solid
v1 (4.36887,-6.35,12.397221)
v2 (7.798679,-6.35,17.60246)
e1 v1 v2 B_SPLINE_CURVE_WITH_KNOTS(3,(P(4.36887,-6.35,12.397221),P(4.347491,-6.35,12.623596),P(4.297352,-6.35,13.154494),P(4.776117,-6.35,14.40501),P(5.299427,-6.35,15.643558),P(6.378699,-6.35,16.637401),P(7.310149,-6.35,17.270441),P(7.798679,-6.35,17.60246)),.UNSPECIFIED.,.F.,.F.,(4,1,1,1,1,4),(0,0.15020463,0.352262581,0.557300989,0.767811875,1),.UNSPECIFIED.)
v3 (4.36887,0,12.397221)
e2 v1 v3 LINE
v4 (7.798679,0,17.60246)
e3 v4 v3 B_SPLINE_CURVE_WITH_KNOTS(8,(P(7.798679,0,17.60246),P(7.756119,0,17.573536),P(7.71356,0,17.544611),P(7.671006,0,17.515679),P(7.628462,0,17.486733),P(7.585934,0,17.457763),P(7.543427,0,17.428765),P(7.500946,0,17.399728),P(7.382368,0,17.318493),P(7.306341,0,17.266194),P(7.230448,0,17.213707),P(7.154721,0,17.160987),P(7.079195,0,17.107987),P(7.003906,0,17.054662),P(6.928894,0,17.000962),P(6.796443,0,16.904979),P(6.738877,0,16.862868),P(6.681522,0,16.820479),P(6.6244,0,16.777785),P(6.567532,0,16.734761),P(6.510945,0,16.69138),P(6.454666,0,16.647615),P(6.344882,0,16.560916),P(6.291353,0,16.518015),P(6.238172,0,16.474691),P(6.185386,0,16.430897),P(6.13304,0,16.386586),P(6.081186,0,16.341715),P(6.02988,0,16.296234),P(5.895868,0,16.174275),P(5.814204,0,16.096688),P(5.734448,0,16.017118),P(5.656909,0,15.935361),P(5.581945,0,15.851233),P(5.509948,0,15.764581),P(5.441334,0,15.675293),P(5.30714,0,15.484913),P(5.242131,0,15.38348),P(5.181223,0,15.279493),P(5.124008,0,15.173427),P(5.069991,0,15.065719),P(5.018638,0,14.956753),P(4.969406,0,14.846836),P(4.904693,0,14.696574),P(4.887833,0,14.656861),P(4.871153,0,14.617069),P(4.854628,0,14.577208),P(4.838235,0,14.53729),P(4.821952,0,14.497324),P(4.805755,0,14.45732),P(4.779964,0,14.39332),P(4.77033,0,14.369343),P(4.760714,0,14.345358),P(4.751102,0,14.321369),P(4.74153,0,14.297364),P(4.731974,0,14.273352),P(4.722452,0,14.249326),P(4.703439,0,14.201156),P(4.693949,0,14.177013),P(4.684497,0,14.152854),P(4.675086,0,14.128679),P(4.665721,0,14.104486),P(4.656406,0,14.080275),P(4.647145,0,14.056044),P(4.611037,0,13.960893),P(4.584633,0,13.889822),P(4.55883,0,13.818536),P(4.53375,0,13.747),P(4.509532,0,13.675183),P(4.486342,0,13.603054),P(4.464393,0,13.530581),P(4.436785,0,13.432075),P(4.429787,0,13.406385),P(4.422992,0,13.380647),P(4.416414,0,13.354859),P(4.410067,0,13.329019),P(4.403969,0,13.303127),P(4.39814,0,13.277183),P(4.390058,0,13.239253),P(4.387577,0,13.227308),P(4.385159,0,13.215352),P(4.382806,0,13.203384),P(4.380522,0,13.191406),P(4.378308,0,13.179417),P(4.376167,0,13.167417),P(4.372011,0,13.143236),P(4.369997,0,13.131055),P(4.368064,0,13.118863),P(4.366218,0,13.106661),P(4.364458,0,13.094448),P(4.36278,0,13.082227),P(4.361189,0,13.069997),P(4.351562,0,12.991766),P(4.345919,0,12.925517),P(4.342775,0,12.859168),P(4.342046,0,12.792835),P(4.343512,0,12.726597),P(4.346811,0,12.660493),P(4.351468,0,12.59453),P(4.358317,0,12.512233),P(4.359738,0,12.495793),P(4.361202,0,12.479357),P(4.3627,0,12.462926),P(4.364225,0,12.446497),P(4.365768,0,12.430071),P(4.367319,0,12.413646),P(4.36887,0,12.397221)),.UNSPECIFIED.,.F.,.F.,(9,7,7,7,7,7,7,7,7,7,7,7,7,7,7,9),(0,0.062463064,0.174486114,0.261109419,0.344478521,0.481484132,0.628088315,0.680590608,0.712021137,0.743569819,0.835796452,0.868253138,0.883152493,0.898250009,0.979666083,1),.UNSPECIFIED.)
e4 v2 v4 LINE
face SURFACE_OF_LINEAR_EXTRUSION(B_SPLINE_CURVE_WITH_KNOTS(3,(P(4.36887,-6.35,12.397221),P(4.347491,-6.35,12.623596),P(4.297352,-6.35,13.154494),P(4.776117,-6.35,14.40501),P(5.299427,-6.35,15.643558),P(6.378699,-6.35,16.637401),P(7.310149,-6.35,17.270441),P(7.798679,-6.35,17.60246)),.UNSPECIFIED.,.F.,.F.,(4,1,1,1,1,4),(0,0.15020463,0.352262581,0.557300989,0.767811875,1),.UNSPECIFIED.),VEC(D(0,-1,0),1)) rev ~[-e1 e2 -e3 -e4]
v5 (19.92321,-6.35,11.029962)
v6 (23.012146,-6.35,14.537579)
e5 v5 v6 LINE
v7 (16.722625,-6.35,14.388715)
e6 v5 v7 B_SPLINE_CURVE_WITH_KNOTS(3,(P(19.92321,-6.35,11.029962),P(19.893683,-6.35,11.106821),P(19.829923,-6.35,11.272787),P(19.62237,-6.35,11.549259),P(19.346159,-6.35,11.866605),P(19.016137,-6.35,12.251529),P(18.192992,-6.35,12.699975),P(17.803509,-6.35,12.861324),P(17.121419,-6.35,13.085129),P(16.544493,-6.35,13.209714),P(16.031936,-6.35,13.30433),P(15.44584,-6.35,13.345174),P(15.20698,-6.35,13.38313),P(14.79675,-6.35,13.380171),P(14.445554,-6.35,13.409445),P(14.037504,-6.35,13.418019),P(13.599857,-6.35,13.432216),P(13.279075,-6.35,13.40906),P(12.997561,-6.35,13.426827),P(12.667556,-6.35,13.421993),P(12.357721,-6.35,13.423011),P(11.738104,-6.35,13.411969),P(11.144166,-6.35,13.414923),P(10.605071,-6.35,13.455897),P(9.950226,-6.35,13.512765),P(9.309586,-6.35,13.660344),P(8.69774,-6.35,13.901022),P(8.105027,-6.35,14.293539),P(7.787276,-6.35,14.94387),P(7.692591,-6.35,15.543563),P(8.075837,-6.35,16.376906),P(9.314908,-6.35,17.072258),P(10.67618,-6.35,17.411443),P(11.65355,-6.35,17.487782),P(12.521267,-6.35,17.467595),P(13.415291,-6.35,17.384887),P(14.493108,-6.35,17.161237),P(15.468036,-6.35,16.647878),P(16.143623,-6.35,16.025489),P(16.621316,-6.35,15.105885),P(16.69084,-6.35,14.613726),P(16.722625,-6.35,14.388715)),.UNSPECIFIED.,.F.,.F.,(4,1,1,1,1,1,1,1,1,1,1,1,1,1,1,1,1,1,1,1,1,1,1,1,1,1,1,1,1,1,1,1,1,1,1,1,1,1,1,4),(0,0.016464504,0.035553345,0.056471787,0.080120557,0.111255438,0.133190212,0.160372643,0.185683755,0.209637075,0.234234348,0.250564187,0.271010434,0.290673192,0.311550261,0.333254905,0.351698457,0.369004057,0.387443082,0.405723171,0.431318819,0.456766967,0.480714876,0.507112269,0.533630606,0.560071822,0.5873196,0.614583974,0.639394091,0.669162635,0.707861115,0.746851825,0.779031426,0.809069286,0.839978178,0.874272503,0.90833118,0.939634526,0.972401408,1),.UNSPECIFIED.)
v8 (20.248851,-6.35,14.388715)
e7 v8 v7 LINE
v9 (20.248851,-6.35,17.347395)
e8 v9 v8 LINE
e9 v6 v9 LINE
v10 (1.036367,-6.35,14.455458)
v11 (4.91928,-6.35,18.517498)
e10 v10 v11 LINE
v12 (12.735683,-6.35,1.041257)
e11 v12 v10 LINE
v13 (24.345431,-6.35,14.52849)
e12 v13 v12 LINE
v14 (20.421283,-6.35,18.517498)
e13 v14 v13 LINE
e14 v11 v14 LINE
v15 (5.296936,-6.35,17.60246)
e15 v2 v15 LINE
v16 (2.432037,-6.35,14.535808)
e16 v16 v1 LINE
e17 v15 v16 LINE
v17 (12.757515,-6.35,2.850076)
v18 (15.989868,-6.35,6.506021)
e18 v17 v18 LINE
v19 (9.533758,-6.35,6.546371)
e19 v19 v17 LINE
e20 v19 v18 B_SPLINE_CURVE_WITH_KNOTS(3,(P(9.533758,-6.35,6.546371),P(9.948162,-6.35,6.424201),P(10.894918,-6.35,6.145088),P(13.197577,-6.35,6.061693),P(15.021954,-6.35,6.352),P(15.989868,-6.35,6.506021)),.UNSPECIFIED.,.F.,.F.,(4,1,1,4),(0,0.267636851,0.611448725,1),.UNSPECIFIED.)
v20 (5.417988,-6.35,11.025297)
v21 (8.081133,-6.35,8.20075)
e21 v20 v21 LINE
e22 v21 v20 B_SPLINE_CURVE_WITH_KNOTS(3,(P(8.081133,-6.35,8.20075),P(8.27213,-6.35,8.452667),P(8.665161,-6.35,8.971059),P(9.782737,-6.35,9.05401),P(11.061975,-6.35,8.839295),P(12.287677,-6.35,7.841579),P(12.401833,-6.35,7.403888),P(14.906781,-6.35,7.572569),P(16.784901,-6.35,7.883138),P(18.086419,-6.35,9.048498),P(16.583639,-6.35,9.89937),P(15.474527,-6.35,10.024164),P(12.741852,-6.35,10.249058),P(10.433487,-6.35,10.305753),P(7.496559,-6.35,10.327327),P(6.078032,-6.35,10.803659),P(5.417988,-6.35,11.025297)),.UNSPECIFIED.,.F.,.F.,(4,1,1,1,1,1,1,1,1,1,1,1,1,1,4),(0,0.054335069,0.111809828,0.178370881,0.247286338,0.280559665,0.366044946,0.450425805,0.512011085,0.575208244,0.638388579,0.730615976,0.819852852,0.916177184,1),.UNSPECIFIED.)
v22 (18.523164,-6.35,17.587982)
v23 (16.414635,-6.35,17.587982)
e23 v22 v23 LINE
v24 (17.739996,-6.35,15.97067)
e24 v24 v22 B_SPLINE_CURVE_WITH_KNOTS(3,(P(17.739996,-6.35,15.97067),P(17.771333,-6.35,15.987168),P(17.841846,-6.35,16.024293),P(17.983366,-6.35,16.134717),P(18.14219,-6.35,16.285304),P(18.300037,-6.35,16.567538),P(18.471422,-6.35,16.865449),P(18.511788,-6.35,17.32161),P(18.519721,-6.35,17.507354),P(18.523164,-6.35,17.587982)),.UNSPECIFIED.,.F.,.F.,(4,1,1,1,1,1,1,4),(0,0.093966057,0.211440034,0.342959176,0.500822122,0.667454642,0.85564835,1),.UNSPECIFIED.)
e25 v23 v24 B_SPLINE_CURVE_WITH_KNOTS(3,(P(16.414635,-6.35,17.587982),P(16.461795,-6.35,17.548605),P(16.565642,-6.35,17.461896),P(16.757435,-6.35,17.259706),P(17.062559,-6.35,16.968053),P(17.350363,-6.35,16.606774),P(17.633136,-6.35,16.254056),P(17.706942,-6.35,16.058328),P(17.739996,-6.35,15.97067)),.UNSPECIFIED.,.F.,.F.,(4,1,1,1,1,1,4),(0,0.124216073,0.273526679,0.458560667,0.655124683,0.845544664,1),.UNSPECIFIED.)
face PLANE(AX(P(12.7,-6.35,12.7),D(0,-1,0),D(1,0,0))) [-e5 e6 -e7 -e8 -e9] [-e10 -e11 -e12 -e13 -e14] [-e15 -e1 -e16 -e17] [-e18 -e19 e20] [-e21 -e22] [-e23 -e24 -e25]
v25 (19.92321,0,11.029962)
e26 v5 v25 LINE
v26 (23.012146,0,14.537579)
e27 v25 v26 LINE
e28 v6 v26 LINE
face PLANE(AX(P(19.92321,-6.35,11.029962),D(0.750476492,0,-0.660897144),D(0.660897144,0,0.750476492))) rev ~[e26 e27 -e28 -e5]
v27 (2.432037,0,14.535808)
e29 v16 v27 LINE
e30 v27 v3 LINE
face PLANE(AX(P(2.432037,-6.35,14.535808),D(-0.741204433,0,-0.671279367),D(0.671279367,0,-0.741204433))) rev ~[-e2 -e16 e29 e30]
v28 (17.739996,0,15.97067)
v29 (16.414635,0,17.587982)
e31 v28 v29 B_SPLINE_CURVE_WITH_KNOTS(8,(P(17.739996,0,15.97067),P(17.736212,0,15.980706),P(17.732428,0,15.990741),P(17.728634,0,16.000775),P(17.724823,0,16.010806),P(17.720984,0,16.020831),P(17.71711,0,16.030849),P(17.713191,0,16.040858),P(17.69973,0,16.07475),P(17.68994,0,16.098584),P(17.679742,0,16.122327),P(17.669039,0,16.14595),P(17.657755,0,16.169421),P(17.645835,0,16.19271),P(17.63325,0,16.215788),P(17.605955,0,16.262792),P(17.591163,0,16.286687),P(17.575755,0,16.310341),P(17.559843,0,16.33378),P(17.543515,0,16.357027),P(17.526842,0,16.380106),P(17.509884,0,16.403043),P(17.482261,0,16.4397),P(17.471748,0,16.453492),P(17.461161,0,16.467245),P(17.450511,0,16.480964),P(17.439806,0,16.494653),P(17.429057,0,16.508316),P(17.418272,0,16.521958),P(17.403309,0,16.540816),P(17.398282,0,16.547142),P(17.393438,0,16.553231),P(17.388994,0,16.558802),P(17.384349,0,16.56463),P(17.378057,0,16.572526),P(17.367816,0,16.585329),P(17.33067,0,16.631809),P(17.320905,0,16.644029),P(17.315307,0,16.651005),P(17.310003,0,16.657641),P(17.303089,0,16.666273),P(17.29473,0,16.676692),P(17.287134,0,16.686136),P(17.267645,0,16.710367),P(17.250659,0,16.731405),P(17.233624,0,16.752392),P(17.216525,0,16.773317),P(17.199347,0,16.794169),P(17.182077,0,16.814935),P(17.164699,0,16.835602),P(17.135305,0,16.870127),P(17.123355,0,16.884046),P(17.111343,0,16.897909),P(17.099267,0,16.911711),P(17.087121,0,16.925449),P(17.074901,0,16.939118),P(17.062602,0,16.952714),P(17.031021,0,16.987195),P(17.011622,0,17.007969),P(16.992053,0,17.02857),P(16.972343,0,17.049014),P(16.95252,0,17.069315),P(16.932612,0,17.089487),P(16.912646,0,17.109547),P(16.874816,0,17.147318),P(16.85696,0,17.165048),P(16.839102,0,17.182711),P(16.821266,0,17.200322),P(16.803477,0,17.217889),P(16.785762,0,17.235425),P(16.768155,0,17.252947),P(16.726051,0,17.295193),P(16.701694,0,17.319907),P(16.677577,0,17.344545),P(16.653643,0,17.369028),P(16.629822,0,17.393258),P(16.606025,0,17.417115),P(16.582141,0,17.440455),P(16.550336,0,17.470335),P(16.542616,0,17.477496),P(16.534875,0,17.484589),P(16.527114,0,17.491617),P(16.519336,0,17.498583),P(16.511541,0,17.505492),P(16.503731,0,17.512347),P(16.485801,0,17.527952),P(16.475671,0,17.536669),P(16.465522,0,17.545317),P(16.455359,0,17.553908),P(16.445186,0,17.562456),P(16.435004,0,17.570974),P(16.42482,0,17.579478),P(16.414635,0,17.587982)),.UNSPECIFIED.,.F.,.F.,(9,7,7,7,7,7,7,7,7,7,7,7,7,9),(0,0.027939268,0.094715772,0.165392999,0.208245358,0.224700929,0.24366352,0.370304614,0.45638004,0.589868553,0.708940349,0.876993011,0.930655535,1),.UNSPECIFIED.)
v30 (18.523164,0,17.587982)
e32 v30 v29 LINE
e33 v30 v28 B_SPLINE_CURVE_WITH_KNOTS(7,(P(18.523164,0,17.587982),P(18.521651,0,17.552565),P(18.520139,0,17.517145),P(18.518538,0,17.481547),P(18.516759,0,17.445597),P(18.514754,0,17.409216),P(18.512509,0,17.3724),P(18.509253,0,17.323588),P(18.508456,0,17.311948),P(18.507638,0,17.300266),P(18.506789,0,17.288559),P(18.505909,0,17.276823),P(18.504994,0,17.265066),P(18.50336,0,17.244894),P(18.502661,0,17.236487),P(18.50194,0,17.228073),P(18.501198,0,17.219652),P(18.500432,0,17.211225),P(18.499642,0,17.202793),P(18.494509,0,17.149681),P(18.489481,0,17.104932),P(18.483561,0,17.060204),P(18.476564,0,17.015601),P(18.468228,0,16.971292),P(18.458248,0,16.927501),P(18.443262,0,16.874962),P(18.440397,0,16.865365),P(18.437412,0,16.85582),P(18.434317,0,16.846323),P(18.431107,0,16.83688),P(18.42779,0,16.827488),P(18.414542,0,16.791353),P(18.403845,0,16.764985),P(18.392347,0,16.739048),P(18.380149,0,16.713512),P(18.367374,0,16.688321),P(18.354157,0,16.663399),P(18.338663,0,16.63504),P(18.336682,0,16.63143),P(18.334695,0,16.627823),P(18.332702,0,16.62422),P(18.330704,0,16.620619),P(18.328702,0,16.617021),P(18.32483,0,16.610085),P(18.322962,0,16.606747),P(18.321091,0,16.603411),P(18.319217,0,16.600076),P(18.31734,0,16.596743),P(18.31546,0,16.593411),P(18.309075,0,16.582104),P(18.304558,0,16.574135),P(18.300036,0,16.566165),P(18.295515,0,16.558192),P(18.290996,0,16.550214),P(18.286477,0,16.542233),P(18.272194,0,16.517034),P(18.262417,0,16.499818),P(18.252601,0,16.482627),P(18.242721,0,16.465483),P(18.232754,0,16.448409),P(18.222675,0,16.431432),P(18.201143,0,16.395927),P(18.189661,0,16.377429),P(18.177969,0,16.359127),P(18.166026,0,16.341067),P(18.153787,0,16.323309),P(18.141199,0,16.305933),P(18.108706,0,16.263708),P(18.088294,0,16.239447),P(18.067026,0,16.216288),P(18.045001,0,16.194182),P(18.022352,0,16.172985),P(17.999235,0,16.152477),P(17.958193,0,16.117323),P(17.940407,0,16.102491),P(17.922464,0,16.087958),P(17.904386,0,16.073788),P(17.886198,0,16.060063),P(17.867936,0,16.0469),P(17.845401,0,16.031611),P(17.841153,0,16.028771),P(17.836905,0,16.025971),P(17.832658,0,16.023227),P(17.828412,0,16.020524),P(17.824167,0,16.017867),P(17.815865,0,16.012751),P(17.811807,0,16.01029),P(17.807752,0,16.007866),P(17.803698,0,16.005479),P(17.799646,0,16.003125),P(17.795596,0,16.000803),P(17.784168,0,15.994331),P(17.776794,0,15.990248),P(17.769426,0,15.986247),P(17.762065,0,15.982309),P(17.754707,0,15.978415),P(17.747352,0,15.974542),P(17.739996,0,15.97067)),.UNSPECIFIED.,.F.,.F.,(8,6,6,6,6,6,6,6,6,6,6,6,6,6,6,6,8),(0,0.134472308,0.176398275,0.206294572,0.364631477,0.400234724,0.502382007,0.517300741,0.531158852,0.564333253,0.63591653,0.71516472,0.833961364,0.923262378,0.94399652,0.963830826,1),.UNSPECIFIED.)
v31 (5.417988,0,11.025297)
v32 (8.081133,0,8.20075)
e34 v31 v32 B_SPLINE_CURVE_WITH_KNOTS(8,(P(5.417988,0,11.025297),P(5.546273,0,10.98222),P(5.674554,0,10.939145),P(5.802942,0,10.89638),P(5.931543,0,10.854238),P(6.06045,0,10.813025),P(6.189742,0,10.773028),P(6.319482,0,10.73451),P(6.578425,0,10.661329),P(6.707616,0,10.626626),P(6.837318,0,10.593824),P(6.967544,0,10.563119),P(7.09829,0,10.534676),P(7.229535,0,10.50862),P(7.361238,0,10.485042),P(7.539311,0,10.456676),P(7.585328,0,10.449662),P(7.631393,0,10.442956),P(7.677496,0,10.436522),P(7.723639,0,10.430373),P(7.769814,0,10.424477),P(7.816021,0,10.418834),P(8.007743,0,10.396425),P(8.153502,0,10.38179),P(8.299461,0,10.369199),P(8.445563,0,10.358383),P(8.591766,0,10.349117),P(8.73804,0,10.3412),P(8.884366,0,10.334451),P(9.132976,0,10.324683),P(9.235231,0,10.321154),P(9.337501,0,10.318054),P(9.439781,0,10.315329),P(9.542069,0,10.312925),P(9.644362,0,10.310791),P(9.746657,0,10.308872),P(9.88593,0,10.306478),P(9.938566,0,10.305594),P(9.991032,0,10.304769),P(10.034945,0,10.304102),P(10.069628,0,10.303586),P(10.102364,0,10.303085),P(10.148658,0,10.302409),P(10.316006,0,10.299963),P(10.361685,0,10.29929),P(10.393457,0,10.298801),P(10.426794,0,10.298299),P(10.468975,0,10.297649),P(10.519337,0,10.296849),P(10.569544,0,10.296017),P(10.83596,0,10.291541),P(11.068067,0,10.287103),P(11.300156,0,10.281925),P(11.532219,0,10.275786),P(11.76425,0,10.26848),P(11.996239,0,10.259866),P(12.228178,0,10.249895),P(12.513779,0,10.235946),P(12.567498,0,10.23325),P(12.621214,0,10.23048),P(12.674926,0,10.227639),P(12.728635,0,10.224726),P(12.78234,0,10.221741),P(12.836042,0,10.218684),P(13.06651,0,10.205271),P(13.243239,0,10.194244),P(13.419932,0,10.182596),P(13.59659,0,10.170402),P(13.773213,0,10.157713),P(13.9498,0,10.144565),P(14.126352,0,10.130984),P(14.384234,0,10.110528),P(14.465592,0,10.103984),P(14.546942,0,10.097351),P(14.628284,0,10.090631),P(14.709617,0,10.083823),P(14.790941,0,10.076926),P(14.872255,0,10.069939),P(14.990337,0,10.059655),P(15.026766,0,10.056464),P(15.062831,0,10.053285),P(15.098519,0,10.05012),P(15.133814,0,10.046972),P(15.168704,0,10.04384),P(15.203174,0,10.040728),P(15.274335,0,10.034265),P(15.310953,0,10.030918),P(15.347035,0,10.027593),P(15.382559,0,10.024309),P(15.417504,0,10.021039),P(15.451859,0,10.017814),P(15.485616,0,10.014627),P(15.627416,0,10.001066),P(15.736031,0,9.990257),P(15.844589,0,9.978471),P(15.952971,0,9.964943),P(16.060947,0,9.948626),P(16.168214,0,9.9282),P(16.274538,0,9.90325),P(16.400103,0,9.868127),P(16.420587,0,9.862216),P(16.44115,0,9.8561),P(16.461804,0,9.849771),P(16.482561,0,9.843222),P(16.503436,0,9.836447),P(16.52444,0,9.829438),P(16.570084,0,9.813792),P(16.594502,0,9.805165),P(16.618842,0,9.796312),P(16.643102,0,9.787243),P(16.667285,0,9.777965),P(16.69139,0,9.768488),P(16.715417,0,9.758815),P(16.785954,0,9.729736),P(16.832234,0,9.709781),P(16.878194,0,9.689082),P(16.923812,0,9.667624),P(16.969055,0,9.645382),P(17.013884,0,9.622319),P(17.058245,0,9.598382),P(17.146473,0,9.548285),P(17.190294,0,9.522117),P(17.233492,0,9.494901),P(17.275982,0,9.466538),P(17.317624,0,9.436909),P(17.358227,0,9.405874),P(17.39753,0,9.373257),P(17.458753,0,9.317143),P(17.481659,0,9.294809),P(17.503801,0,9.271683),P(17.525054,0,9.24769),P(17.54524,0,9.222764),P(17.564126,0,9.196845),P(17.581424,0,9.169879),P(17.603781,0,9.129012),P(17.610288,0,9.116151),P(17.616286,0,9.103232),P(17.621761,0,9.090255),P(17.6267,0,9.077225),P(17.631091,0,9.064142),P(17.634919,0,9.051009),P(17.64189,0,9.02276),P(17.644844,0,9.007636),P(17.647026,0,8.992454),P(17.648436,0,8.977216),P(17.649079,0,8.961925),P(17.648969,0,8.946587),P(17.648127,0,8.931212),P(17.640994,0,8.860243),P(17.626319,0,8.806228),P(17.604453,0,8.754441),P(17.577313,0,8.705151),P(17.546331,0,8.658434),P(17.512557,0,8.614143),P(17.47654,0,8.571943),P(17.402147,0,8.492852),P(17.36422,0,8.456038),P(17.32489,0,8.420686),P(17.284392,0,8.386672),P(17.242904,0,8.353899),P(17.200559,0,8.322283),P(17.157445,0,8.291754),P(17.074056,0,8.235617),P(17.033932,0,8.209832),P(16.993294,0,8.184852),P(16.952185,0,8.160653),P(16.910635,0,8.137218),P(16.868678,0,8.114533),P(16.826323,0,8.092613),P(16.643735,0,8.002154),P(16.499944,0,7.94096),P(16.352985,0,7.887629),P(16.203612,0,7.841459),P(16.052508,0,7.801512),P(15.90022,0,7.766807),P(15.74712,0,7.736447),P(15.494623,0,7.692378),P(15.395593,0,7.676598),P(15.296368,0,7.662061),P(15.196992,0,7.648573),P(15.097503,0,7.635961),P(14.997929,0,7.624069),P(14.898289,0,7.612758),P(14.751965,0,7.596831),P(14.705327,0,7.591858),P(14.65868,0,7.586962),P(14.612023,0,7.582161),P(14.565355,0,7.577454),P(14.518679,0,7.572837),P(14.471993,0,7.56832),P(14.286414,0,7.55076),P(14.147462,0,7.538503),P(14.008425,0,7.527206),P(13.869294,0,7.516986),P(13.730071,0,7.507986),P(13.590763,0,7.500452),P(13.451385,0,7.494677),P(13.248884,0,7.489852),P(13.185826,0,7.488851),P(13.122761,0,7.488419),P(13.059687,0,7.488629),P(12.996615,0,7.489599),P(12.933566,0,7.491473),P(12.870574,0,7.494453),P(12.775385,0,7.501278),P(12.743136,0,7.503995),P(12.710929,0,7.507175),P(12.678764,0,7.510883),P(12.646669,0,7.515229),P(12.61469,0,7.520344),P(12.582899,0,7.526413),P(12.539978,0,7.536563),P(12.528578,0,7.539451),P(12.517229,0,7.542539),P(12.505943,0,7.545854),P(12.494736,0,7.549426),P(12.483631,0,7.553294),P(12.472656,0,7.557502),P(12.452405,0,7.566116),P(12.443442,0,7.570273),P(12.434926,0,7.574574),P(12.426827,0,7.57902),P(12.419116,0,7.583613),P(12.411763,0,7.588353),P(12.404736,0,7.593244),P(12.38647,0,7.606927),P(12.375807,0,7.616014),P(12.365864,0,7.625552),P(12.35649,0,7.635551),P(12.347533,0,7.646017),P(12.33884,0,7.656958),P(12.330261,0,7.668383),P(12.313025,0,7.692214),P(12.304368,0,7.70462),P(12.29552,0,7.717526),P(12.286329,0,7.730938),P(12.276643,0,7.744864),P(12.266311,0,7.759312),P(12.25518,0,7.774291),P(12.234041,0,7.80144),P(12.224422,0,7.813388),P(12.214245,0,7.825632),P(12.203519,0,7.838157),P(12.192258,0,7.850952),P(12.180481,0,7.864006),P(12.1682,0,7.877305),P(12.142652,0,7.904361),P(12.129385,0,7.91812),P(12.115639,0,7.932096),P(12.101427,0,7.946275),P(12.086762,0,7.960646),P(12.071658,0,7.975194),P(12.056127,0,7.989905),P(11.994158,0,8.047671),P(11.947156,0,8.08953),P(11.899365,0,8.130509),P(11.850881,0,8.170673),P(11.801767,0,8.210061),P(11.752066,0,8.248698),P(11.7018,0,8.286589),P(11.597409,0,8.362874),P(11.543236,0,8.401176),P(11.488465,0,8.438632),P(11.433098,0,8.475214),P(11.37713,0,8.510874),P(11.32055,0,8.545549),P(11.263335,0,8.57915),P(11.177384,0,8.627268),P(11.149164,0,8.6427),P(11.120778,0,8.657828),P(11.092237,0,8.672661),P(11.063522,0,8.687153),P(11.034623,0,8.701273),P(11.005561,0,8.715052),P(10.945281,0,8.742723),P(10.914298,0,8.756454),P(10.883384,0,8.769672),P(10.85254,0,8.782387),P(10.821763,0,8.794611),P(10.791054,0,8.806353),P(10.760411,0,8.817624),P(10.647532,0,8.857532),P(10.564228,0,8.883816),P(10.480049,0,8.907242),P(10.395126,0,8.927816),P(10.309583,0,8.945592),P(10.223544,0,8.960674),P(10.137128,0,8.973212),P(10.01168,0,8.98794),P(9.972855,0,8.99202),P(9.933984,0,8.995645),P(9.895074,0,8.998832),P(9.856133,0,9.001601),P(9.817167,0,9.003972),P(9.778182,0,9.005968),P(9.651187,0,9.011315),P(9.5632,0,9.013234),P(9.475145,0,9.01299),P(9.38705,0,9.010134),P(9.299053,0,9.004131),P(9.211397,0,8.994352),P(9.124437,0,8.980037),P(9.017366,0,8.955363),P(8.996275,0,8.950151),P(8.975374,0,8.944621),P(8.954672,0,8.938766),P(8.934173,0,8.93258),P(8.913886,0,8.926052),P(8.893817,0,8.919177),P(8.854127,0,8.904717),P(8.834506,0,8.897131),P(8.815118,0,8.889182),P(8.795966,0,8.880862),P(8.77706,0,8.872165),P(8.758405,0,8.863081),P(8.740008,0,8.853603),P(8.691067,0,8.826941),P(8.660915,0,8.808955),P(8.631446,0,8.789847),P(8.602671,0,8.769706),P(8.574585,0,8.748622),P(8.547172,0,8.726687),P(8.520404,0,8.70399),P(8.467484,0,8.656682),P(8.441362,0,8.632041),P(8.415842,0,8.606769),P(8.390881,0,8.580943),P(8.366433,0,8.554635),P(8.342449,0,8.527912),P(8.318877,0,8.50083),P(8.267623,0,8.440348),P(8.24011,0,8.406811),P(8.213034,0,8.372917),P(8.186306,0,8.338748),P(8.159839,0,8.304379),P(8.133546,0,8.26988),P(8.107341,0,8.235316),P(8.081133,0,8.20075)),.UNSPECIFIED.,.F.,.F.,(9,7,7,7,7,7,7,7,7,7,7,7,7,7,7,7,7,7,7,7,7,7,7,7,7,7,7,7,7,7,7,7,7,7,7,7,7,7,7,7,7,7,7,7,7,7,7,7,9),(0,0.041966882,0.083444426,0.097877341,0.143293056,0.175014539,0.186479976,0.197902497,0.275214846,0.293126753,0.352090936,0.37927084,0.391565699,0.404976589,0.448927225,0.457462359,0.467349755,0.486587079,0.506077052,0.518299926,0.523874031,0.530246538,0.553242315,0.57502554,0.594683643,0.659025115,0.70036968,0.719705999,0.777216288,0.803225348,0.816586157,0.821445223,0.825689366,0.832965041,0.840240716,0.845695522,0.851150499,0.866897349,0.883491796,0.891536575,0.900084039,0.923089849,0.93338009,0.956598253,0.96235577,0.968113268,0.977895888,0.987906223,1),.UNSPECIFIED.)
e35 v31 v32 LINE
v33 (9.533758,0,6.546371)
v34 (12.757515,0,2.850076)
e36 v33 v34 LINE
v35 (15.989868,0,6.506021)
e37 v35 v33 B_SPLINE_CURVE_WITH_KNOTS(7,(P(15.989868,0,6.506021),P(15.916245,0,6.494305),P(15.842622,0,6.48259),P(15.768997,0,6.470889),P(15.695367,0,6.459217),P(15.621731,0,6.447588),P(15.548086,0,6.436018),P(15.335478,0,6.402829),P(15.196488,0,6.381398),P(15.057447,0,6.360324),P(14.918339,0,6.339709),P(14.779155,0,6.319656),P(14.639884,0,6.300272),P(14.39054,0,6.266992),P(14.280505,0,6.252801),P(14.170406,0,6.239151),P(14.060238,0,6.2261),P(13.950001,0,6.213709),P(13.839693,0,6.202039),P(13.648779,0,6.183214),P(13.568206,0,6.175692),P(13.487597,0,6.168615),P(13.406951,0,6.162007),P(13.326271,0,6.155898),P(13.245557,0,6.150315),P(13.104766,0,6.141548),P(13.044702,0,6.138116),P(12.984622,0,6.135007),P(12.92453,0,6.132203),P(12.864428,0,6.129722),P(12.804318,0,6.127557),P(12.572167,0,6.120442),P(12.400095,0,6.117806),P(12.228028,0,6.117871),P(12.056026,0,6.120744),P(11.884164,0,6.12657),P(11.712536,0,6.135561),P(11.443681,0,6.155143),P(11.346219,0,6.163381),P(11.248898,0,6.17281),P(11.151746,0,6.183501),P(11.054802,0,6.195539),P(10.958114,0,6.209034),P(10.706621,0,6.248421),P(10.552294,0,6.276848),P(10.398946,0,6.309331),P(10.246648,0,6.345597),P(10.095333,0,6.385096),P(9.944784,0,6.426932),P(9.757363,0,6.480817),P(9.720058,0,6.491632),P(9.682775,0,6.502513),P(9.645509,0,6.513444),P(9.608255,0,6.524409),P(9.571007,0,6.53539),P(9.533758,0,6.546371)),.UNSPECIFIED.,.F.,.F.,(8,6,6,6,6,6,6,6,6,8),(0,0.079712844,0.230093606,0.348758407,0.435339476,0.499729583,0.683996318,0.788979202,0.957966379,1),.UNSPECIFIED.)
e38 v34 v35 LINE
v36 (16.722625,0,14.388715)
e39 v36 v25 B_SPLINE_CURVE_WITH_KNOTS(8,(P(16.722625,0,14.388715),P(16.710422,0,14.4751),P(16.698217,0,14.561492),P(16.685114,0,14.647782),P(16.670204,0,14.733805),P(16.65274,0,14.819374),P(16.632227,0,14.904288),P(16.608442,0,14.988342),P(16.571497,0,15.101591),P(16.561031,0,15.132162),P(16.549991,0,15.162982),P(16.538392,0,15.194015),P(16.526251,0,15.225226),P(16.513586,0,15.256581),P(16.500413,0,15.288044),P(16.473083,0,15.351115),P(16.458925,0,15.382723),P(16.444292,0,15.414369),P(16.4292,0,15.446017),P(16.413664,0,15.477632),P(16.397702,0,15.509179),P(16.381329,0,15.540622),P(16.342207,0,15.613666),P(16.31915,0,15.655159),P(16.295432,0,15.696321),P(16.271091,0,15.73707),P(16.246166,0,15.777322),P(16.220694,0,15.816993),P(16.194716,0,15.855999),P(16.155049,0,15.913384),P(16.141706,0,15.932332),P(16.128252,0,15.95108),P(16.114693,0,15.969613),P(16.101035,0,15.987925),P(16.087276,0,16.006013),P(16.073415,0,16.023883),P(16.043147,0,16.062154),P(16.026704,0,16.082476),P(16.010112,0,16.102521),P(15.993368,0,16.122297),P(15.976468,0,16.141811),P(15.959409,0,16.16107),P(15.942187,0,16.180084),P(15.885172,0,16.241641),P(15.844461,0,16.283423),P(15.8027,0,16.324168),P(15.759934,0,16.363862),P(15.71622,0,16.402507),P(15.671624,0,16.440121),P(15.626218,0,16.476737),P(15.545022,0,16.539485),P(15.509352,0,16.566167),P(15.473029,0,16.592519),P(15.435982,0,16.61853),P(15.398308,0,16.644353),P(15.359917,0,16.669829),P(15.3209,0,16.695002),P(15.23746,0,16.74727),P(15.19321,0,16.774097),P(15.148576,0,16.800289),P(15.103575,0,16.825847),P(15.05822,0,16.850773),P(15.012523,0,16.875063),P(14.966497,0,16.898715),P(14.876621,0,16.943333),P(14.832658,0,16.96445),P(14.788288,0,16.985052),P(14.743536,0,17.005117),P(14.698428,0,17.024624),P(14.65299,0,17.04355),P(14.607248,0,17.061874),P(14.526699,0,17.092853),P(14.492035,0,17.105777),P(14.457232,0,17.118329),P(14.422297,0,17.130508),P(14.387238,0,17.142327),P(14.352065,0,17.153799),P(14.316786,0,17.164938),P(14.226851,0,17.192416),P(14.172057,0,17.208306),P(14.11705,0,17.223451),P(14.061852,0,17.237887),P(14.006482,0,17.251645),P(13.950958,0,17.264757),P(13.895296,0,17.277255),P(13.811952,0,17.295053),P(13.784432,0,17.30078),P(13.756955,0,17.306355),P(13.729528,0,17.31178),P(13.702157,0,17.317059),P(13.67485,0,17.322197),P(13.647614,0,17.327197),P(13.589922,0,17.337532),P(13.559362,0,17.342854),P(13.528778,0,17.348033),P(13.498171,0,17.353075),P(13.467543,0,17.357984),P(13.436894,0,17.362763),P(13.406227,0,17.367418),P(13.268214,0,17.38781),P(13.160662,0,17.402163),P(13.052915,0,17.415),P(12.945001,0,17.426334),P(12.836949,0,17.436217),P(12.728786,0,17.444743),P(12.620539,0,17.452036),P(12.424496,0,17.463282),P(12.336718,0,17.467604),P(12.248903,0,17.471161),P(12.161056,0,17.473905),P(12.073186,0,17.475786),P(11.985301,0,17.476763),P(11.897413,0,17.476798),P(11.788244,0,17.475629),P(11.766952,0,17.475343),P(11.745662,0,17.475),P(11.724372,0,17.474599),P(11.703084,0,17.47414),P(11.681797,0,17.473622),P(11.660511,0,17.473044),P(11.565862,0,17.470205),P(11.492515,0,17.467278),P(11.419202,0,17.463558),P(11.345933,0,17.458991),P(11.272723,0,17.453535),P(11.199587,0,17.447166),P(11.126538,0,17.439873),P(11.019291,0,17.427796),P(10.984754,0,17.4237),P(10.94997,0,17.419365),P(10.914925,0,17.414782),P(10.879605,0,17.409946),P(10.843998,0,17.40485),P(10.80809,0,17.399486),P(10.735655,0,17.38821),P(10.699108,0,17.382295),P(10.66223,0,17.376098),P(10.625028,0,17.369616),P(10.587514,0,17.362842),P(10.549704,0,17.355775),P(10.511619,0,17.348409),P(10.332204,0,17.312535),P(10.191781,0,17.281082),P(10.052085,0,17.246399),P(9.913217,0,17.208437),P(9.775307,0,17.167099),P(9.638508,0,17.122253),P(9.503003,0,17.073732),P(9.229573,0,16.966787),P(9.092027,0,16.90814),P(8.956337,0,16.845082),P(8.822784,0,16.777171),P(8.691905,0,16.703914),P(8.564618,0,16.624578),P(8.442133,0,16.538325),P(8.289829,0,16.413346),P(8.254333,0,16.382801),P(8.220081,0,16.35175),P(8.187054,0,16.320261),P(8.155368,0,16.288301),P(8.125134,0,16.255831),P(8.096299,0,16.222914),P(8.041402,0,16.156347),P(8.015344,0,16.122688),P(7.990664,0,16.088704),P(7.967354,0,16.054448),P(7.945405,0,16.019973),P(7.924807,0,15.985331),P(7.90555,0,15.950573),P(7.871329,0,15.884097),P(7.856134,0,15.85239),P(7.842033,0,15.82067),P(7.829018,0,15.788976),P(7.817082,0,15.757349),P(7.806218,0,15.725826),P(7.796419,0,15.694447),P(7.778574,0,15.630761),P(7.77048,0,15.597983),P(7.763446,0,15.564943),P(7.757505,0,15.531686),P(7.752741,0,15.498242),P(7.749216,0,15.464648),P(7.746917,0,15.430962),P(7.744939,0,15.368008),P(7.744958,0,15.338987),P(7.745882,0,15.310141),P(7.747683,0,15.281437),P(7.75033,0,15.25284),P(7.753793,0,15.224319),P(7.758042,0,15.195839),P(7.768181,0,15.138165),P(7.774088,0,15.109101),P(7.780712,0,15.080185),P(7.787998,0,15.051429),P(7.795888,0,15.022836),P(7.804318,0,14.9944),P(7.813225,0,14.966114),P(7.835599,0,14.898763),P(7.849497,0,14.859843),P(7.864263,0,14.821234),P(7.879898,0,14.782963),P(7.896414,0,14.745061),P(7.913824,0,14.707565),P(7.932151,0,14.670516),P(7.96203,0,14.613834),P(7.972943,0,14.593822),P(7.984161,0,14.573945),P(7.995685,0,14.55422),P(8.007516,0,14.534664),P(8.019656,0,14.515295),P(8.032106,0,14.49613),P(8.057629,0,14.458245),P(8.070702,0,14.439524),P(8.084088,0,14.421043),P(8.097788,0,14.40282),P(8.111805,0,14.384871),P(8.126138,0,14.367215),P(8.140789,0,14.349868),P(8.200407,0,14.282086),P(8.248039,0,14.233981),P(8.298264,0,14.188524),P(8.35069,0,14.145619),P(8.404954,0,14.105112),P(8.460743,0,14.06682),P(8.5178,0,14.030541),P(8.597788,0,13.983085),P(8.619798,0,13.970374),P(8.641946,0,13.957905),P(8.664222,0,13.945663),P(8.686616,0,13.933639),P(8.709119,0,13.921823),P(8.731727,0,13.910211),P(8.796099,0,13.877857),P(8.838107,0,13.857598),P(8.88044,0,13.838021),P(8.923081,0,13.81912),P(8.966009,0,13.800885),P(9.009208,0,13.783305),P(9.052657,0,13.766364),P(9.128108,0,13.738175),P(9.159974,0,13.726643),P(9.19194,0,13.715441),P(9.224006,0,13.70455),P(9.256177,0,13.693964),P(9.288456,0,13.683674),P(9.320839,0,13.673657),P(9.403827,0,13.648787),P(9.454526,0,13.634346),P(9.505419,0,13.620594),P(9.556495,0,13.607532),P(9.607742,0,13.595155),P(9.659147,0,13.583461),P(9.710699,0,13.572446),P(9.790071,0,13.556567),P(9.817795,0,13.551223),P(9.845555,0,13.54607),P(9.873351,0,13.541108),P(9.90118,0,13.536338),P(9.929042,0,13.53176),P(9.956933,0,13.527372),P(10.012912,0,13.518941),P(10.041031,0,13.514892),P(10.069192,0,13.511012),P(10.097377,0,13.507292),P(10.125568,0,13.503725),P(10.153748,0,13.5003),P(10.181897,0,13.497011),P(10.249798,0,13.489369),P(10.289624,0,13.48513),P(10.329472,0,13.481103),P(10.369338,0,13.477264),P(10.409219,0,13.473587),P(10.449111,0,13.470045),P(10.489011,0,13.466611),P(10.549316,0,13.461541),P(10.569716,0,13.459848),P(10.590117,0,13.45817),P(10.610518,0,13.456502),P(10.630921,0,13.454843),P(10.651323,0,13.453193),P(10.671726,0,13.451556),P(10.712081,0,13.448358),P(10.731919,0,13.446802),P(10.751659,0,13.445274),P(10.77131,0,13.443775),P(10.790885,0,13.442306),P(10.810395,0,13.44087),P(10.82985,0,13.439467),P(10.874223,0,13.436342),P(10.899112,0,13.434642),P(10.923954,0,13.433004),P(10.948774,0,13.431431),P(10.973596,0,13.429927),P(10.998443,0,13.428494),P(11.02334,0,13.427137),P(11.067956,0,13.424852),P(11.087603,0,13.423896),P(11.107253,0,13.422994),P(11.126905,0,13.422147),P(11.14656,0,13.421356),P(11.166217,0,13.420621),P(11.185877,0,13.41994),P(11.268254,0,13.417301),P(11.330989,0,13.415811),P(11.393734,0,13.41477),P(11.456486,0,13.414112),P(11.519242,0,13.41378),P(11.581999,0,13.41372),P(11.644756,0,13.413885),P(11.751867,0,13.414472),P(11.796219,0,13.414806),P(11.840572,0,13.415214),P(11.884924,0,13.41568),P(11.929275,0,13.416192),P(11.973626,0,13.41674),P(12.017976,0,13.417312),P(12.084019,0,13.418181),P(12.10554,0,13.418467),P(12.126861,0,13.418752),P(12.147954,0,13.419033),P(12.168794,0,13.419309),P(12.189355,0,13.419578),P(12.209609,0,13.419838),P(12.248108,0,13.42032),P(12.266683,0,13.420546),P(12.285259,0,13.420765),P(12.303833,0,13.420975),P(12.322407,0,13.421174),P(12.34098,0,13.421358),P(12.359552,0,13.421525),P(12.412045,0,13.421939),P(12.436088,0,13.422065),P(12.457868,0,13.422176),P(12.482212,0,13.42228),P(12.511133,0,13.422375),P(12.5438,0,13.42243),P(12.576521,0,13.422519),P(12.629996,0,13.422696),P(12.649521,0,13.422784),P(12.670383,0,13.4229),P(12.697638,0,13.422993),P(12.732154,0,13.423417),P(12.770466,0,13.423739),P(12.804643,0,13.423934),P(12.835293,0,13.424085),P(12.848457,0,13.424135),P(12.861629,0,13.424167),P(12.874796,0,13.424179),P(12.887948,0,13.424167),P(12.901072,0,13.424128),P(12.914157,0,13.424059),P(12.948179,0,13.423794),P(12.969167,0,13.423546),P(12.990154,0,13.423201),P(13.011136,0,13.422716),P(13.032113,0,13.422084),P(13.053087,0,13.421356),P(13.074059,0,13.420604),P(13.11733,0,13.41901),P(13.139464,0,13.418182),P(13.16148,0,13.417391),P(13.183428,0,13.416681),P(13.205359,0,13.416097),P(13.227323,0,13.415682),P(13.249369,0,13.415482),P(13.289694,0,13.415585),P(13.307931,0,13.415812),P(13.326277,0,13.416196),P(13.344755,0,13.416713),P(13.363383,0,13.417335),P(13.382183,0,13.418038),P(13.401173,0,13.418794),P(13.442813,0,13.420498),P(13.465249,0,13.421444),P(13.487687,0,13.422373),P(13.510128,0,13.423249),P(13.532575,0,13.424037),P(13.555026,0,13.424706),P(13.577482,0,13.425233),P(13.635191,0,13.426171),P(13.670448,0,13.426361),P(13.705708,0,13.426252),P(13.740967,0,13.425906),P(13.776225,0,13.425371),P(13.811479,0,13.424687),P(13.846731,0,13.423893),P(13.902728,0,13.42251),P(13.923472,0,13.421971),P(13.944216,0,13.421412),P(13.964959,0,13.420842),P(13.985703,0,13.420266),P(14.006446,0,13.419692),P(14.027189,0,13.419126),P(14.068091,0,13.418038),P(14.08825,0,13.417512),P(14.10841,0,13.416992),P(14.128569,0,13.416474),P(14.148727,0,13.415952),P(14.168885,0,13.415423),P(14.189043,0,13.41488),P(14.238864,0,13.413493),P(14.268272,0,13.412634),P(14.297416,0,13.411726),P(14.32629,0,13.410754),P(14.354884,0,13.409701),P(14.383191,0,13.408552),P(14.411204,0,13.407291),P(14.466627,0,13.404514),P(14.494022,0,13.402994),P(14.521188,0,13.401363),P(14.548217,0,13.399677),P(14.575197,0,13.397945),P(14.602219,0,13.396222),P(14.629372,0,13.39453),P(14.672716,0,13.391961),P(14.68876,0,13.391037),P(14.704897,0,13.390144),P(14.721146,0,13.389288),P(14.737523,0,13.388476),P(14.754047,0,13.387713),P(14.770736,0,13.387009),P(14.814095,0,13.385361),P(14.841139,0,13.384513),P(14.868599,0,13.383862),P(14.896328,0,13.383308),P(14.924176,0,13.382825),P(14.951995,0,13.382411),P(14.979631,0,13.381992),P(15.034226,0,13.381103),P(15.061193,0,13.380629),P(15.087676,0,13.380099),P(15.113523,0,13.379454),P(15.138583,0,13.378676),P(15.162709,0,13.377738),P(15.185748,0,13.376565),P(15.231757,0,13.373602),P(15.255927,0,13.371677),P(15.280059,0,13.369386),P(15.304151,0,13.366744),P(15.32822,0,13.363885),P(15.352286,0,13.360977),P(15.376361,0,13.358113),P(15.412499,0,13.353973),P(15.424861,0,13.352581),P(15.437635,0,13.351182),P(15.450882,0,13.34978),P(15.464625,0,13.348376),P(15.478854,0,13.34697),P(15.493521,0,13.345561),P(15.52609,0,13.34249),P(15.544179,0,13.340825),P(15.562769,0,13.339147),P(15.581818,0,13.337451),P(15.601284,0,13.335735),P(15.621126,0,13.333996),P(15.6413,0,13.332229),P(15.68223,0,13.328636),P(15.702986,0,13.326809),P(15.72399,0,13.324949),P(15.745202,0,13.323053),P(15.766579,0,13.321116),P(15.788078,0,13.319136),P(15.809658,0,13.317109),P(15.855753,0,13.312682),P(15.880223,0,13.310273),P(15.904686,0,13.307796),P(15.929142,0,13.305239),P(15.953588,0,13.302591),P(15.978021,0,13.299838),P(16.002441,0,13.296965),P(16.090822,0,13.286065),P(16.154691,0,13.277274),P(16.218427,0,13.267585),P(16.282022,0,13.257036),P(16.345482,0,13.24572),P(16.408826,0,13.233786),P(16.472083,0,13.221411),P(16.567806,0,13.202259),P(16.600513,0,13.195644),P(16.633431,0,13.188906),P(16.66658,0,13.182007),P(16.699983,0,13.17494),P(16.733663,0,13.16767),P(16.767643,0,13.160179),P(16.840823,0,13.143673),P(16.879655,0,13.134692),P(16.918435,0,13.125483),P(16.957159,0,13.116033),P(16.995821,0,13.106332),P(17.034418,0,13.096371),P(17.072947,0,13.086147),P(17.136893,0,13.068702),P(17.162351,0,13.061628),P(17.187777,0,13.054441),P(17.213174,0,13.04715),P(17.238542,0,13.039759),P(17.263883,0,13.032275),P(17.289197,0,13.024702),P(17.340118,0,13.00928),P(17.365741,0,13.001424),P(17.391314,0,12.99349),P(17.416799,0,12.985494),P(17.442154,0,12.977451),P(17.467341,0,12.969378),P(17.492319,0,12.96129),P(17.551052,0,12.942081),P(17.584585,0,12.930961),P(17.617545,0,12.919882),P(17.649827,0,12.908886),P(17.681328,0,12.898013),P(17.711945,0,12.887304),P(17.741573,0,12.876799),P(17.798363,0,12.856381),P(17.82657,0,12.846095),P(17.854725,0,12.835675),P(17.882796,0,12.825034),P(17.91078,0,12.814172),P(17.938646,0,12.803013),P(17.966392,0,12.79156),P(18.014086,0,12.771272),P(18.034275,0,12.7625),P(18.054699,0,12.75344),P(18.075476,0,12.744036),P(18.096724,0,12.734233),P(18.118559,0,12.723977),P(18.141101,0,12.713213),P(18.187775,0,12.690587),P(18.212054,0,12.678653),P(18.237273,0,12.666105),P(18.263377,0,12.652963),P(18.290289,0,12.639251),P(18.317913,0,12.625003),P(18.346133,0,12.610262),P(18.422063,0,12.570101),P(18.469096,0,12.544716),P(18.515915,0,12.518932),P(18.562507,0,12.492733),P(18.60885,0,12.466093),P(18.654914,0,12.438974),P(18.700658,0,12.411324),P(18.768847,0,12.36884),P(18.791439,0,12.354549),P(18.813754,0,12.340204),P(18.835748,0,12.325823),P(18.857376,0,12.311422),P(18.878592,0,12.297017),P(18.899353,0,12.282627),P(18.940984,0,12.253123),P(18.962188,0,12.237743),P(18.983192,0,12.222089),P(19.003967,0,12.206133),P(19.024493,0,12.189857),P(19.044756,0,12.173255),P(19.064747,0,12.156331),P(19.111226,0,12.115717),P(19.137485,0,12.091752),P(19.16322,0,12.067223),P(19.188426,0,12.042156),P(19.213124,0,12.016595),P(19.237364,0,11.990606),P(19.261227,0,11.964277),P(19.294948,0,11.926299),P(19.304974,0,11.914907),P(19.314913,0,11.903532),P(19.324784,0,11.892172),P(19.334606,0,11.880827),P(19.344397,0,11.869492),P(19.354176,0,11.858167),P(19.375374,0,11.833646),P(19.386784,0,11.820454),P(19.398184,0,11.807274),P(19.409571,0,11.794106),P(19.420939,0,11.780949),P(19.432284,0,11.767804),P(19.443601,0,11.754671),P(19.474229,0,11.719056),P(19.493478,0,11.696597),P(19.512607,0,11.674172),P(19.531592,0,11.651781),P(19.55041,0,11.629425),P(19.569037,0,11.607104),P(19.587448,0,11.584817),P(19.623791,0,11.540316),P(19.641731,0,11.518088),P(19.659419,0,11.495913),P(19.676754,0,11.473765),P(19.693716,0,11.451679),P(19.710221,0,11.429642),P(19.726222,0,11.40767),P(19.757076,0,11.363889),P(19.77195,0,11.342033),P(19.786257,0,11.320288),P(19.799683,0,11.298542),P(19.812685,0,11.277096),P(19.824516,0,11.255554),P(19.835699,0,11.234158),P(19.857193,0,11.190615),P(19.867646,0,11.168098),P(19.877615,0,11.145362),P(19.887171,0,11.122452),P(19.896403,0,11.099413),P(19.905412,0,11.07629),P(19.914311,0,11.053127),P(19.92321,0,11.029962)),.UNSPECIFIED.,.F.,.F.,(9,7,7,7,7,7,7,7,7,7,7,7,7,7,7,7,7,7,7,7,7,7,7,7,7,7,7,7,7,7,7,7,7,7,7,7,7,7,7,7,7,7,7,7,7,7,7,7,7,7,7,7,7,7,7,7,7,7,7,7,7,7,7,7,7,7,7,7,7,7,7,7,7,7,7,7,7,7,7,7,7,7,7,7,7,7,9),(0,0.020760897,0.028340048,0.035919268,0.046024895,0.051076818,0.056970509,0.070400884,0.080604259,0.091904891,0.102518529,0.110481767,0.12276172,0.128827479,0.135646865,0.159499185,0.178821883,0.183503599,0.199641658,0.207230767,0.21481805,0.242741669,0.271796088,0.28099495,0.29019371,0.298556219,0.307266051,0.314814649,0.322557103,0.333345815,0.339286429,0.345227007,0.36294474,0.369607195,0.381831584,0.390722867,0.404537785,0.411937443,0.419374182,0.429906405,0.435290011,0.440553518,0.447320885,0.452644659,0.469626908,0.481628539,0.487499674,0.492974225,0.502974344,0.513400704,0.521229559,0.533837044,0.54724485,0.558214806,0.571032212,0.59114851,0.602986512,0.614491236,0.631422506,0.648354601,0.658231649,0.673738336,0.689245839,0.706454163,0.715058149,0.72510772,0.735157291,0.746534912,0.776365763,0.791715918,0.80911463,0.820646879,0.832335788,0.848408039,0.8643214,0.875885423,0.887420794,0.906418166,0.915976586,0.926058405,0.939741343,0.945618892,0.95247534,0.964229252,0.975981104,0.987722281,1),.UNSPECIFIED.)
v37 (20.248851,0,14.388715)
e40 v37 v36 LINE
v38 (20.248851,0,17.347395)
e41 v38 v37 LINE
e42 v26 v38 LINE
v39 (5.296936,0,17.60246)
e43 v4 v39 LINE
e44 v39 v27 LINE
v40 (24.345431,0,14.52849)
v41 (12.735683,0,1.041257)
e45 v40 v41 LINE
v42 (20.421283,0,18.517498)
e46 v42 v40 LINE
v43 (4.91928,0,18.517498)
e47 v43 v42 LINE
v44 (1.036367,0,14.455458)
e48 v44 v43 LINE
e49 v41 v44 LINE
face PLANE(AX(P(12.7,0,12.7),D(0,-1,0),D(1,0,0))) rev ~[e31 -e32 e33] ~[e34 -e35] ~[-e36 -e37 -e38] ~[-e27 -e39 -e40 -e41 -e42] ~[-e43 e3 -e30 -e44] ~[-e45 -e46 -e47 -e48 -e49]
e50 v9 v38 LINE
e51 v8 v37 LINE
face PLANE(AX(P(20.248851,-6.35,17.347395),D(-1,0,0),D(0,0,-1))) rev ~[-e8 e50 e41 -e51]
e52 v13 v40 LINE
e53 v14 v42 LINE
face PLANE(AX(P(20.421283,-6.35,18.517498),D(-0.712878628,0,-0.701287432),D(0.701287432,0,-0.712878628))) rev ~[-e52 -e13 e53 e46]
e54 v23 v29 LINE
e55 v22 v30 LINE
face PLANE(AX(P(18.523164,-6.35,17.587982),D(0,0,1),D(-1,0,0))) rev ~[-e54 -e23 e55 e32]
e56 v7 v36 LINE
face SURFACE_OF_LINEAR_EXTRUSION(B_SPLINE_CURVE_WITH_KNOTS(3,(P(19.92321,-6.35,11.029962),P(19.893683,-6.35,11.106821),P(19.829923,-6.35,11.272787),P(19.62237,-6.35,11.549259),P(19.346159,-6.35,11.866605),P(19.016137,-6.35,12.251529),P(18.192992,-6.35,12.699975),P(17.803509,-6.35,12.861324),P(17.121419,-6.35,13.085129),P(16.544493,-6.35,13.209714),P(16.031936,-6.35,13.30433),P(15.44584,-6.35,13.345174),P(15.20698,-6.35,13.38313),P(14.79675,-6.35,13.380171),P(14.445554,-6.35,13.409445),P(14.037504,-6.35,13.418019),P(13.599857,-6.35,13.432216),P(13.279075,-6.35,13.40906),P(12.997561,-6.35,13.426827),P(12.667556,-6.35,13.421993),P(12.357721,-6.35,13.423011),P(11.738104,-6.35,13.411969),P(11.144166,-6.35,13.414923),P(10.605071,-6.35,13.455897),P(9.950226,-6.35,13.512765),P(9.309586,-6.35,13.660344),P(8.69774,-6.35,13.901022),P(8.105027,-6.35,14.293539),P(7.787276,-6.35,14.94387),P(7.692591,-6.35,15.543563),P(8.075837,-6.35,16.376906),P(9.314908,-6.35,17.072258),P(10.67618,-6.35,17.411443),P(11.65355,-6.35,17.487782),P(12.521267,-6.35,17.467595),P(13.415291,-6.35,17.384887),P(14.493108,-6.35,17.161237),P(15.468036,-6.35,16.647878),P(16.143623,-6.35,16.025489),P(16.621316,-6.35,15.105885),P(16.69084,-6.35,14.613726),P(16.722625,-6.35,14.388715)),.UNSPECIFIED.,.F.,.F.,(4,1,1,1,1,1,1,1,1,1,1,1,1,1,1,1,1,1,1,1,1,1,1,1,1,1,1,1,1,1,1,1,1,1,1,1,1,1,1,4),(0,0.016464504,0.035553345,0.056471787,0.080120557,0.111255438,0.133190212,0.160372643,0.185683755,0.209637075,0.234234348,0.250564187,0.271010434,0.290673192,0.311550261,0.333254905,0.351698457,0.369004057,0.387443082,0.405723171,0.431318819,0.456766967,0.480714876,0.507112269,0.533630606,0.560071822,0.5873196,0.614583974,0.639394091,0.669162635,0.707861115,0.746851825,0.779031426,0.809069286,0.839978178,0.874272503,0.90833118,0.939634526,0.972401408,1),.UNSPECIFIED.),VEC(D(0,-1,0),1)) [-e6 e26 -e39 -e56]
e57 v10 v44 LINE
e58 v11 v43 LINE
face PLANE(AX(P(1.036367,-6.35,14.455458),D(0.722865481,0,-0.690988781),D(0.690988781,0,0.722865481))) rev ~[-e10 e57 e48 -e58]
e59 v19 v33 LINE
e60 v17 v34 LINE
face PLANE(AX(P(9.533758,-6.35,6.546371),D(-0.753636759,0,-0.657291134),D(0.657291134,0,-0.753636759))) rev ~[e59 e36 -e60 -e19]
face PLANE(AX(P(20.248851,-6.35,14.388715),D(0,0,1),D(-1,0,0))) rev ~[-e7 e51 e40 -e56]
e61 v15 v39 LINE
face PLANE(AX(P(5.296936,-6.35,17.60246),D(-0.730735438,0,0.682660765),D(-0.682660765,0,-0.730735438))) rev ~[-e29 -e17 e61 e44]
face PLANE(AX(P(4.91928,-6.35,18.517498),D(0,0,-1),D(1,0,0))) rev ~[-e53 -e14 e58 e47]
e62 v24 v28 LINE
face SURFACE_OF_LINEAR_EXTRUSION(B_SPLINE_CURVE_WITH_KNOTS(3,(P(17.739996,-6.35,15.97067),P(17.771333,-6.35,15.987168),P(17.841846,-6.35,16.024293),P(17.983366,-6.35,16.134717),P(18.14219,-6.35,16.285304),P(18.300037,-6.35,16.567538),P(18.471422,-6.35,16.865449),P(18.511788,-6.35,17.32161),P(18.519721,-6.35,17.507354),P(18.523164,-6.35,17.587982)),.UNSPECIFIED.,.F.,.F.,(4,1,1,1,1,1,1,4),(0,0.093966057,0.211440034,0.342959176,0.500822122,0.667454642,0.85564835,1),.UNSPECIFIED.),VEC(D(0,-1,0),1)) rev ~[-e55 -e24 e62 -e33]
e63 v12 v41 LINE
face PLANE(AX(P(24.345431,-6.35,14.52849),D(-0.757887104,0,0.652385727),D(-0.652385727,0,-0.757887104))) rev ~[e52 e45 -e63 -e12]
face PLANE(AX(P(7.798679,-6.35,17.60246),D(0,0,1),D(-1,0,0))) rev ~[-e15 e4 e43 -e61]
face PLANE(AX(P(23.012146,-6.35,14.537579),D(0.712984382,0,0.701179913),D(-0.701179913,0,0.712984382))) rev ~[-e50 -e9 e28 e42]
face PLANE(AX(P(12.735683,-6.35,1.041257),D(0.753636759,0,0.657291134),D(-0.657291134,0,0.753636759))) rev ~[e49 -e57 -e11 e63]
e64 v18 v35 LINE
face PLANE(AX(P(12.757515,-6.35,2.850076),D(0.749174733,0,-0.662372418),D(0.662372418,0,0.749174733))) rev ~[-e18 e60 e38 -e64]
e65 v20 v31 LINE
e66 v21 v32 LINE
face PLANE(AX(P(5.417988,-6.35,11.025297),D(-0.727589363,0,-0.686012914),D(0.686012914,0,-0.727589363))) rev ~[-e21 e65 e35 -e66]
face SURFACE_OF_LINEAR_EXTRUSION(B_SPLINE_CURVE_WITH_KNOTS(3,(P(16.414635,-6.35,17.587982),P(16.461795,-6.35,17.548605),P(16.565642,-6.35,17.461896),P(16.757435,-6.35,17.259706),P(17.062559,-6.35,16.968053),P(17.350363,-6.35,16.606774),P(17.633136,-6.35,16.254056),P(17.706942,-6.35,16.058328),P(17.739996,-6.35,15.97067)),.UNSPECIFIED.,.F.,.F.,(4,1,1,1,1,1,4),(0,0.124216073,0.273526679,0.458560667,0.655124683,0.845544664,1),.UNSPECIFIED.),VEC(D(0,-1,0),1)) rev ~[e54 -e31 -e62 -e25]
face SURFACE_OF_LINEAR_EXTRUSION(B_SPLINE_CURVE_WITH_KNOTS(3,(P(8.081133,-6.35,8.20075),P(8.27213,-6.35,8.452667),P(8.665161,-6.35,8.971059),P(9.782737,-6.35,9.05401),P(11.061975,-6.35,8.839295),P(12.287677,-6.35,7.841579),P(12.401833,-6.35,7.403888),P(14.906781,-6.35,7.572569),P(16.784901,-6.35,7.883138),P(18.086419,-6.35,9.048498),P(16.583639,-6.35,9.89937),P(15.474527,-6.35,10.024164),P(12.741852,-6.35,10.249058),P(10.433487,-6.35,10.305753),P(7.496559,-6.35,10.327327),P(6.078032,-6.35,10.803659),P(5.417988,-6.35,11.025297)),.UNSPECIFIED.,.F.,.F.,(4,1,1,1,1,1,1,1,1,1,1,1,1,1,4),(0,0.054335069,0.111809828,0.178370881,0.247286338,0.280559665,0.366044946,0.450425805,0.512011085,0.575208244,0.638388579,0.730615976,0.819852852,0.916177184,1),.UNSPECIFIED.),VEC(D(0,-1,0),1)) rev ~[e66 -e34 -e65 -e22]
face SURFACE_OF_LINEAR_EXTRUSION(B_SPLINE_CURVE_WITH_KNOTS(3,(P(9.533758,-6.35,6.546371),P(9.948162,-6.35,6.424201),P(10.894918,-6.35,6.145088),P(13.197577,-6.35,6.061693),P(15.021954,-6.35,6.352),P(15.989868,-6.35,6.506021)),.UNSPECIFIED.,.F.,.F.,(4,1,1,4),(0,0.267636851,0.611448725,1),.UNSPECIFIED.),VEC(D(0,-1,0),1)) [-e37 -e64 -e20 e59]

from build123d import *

# Parameters (mm, degrees)
F0_W     = 25.4
F0_H     = 25.4
F1_DEPTH = 6.35
F2_W     = 25.4
F2_H     = 25.4
F3_DEPTH = 25.4


with BuildPart() as f1:
    # F0 (on Front) → F1 (new body)
    with BuildSketch(Plane.XZ):
        with Locations((12.7, 12.7)):
            Rectangle(F0_W, F0_H)
    extrude(amount=F1_DEPTH)

    # F2 (on face) → F3 (cut)
    with BuildSketch(Plane.XZ.offset(6.35)):
        with Locations((12.7, 12.7)):
            Rectangle(F2_W, F2_H)
        Polygon((0.3338013776, 14.5358080044), (4.7320262529, 18.974384293), (20.6301975995, 18.974384293), (24.9477215111, 14.5358080044), (12.7214631066, 0.3323648707), align=None, mode=Mode.SUBTRACT)
        Polygon((20.6301975995, 18.974384293), (4.7320262529, 18.974384293), (0.3338013776, 14.5358080044), (12.7214631066, 0.3323648707), (24.9477215111, 14.5358080044), align=None)
        Polygon((1.0363665456, 14.4554575676), (4.9192802981, 18.517497927), (20.4212833196, 18.517497927), (24.3454314768, 14.5284896716), (12.7356834775, 1.0412566974), align=None, mode=Mode.SUBTRACT)
        with BuildLine():
            Line((20.2488508075, 14.388714917), (16.7226251215, 14.388714917))
            add(Edge.make_bspline(
                [(19.923210144, 11.0299624503), (19.8936833698, 11.1068205677), (19.8299234418, 11.2727874962), (19.6223696345, 11.549259391), (19.3461589342, 11.8666053246), (19.016136623, 12.2515289928), (18.1929920157, 12.6999751524), (17.8035091044, 12.8613244955), (17.1214191196, 13.0851285405), (16.5444929434, 13.2097138086), (16.0319357354, 13.3043296611), (15.4458397931, 13.3451740329), (15.2069802443, 13.3831303578), (14.7967498583, 13.3801712245), (14.4455542578, 13.4094445153), (14.0375044686, 13.41801948), (13.5998566511, 13.4322161736), (13.2790747943, 13.4090602494), (12.997560766, 13.4268268493), (12.6675563859, 13.4219929957), (12.3577212675, 13.4230111774), (11.7381036154, 13.4119693181), (11.1441655063, 13.4149227649), (10.6050706965, 13.4558974424), (9.9502260677, 13.5127650925), (9.3095858988, 13.660344231), (8.6977397381, 13.901021868), (8.1050269511, 14.2935394752), (7.7872763168, 14.9438702672), (7.6925907821, 15.5435629309), (8.0758372089, 16.3769056905), (9.3149079683, 17.0722576657), (10.676180334, 17.4114429825), (11.6535502048, 17.4877819437), (12.5212673577, 17.4675954763), (13.4152912783, 17.3848870993), (14.4931075695, 17.1612369259), (15.468036204, 16.6478782577), (16.143622712, 16.0254885621), (16.6213161242, 15.105885003), (16.6908395774, 14.6137259425), (16.7226251215, 14.388714917)],
                knots=[0, 0, 0, 0, 0.0164645042, 0.0355533454, 0.0564717872, 0.0801205572, 0.1112554378, 0.1331902125, 0.1603726427, 0.1856837551, 0.2096370752, 0.2342343485, 0.2505641867, 0.2710104343, 0.2906731917, 0.3115502614, 0.3332549045, 0.3516984566, 0.3690040569, 0.3874430816, 0.4057231709, 0.4313188187, 0.456766967, 0.4807148765, 0.5071122689, 0.5336306062, 0.5600718225, 0.5873195996, 0.6145839736, 0.6393940914, 0.6691626351, 0.7078611149, 0.7468518253, 0.7790314259, 0.8090692862, 0.8399781775, 0.874272503, 0.9083311803, 0.9396345261, 0.9724014078, 1, 1, 1, 1], degree=3))
            Line((19.923210144, 11.0299624503), (23.0121463537, 14.53757938))
            Line((23.0121463537, 14.53757938), (20.2488508075, 17.3473954201))
            Line((20.2488508075, 17.3473954201), (20.2488508075, 14.388714917))
        make_face()
        with BuildLine():
            Line((5.4179881699, 11.0252974555), (8.0811334774, 8.2007497549))
            add(Edge.make_bspline(
                [(8.0811334774, 8.2007497549), (8.2721304417, 8.4526674108), (8.665160909, 8.9710594932), (9.7827369848, 9.0540100476), (11.0619751357, 8.8392947447), (12.2876766366, 7.8415786879), (12.4018325363, 7.4038876799), (14.9067808681, 7.57256872), (16.7849008985, 7.8831382899), (18.0864189142, 9.0484979061), (16.58363858, 9.8993695802), (15.4745268105, 10.0241638434), (12.7418521776, 10.2490576582), (10.4334869279, 10.3057534404), (7.4965590108, 10.3273271839), (6.0780316763, 10.8036592335), (5.4179881699, 11.0252974555)],
                knots=[0, 0, 0, 0, 0.0543350695, 0.1118098281, 0.1783708811, 0.2472863384, 0.2805596652, 0.3660449464, 0.4504258046, 0.5120110847, 0.5752082443, 0.6383885786, 0.7306159756, 0.8198528517, 0.9161771842, 1, 1, 1, 1], degree=3))
        make_face()
        with BuildLine():
            add(Edge.make_bspline(
                [(9.5337582752, 6.5463711508), (9.9481622587, 6.4242008921), (10.8949182313, 6.1450881743), (13.1975767767, 6.0616926786), (15.0219543809, 6.3519998057), (15.9898679703, 6.5060206689)],
                knots=[0, 0, 0, 0, 0.2676368512, 0.611448725, 1, 1, 1, 1], degree=3))
            Line((9.5337582752, 6.5463711508), (12.7575154803, 2.8500761485))
            Line((12.7575154803, 2.8500761485), (15.9898679703, 6.5060206689))
        make_face()
        with BuildLine():
            Line((2.4320371449, 14.5358080044), (4.3688700534, 12.3972212896))
            add(Edge.make_bspline(
                [(4.3688700534, 12.3972212896), (4.3474908386, 12.6235960907), (4.2973519222, 13.1544943159), (4.7761170928, 14.4050099873), (5.299426727, 15.6435582132), (6.3786986686, 16.6374006108), (7.3101488706, 17.2704413338), (7.7986787073, 17.6024604589)],
                knots=[0, 0, 0, 0, 0.1502046303, 0.3522625808, 0.5573009887, 0.7678118753, 1, 1, 1, 1], degree=3))
            Line((7.7986787073, 17.6024604589), (5.2969362587, 17.6024604589))
            Line((5.2969362587, 17.6024604589), (2.4320371449, 14.5358080044))
        make_face()
        with BuildLine():
            Line((18.5231640935, 17.5879821181), (16.4146348834, 17.5879821181))
            add(Edge.make_bspline(
                [(16.4146348834, 17.5879821181), (16.4617947909, 17.5486051175), (16.5656420032, 17.4618960469), (16.7574345053, 17.2597056167), (17.0625591533, 16.9680525449), (17.3503633257, 16.6067737913), (17.6331356343, 16.2540558785), (17.7069416596, 16.0583280534), (17.739996314, 15.9706696868)],
                knots=[0, 0, 0, 0, 0.1242160729, 0.2735266794, 0.4585606667, 0.6551246827, 0.845544664, 1, 1, 1, 1], degree=3))
            add(Edge.make_bspline(
                [(17.739996314, 15.9706696868), (17.7713330952, 15.987168378), (17.8418463243, 16.0242933141), (17.9833664175, 16.1347166145), (18.1421903422, 16.2853039448), (18.3000369758, 16.5675376356), (18.4714224826, 16.8654485638), (18.5117875751, 17.3216101321), (18.5197205424, 17.5073541522), (18.5231640935, 17.5879821181)],
                knots=[0, 0, 0, 0, 0.0939660565, 0.2114400341, 0.3429591764, 0.500822122, 0.6674546417, 0.8556483498, 1, 1, 1, 1], degree=3))
        make_face()
    extrude(amount=-F3_DEPTH, mode=Mode.SUBTRACT)


solid = f1.part
